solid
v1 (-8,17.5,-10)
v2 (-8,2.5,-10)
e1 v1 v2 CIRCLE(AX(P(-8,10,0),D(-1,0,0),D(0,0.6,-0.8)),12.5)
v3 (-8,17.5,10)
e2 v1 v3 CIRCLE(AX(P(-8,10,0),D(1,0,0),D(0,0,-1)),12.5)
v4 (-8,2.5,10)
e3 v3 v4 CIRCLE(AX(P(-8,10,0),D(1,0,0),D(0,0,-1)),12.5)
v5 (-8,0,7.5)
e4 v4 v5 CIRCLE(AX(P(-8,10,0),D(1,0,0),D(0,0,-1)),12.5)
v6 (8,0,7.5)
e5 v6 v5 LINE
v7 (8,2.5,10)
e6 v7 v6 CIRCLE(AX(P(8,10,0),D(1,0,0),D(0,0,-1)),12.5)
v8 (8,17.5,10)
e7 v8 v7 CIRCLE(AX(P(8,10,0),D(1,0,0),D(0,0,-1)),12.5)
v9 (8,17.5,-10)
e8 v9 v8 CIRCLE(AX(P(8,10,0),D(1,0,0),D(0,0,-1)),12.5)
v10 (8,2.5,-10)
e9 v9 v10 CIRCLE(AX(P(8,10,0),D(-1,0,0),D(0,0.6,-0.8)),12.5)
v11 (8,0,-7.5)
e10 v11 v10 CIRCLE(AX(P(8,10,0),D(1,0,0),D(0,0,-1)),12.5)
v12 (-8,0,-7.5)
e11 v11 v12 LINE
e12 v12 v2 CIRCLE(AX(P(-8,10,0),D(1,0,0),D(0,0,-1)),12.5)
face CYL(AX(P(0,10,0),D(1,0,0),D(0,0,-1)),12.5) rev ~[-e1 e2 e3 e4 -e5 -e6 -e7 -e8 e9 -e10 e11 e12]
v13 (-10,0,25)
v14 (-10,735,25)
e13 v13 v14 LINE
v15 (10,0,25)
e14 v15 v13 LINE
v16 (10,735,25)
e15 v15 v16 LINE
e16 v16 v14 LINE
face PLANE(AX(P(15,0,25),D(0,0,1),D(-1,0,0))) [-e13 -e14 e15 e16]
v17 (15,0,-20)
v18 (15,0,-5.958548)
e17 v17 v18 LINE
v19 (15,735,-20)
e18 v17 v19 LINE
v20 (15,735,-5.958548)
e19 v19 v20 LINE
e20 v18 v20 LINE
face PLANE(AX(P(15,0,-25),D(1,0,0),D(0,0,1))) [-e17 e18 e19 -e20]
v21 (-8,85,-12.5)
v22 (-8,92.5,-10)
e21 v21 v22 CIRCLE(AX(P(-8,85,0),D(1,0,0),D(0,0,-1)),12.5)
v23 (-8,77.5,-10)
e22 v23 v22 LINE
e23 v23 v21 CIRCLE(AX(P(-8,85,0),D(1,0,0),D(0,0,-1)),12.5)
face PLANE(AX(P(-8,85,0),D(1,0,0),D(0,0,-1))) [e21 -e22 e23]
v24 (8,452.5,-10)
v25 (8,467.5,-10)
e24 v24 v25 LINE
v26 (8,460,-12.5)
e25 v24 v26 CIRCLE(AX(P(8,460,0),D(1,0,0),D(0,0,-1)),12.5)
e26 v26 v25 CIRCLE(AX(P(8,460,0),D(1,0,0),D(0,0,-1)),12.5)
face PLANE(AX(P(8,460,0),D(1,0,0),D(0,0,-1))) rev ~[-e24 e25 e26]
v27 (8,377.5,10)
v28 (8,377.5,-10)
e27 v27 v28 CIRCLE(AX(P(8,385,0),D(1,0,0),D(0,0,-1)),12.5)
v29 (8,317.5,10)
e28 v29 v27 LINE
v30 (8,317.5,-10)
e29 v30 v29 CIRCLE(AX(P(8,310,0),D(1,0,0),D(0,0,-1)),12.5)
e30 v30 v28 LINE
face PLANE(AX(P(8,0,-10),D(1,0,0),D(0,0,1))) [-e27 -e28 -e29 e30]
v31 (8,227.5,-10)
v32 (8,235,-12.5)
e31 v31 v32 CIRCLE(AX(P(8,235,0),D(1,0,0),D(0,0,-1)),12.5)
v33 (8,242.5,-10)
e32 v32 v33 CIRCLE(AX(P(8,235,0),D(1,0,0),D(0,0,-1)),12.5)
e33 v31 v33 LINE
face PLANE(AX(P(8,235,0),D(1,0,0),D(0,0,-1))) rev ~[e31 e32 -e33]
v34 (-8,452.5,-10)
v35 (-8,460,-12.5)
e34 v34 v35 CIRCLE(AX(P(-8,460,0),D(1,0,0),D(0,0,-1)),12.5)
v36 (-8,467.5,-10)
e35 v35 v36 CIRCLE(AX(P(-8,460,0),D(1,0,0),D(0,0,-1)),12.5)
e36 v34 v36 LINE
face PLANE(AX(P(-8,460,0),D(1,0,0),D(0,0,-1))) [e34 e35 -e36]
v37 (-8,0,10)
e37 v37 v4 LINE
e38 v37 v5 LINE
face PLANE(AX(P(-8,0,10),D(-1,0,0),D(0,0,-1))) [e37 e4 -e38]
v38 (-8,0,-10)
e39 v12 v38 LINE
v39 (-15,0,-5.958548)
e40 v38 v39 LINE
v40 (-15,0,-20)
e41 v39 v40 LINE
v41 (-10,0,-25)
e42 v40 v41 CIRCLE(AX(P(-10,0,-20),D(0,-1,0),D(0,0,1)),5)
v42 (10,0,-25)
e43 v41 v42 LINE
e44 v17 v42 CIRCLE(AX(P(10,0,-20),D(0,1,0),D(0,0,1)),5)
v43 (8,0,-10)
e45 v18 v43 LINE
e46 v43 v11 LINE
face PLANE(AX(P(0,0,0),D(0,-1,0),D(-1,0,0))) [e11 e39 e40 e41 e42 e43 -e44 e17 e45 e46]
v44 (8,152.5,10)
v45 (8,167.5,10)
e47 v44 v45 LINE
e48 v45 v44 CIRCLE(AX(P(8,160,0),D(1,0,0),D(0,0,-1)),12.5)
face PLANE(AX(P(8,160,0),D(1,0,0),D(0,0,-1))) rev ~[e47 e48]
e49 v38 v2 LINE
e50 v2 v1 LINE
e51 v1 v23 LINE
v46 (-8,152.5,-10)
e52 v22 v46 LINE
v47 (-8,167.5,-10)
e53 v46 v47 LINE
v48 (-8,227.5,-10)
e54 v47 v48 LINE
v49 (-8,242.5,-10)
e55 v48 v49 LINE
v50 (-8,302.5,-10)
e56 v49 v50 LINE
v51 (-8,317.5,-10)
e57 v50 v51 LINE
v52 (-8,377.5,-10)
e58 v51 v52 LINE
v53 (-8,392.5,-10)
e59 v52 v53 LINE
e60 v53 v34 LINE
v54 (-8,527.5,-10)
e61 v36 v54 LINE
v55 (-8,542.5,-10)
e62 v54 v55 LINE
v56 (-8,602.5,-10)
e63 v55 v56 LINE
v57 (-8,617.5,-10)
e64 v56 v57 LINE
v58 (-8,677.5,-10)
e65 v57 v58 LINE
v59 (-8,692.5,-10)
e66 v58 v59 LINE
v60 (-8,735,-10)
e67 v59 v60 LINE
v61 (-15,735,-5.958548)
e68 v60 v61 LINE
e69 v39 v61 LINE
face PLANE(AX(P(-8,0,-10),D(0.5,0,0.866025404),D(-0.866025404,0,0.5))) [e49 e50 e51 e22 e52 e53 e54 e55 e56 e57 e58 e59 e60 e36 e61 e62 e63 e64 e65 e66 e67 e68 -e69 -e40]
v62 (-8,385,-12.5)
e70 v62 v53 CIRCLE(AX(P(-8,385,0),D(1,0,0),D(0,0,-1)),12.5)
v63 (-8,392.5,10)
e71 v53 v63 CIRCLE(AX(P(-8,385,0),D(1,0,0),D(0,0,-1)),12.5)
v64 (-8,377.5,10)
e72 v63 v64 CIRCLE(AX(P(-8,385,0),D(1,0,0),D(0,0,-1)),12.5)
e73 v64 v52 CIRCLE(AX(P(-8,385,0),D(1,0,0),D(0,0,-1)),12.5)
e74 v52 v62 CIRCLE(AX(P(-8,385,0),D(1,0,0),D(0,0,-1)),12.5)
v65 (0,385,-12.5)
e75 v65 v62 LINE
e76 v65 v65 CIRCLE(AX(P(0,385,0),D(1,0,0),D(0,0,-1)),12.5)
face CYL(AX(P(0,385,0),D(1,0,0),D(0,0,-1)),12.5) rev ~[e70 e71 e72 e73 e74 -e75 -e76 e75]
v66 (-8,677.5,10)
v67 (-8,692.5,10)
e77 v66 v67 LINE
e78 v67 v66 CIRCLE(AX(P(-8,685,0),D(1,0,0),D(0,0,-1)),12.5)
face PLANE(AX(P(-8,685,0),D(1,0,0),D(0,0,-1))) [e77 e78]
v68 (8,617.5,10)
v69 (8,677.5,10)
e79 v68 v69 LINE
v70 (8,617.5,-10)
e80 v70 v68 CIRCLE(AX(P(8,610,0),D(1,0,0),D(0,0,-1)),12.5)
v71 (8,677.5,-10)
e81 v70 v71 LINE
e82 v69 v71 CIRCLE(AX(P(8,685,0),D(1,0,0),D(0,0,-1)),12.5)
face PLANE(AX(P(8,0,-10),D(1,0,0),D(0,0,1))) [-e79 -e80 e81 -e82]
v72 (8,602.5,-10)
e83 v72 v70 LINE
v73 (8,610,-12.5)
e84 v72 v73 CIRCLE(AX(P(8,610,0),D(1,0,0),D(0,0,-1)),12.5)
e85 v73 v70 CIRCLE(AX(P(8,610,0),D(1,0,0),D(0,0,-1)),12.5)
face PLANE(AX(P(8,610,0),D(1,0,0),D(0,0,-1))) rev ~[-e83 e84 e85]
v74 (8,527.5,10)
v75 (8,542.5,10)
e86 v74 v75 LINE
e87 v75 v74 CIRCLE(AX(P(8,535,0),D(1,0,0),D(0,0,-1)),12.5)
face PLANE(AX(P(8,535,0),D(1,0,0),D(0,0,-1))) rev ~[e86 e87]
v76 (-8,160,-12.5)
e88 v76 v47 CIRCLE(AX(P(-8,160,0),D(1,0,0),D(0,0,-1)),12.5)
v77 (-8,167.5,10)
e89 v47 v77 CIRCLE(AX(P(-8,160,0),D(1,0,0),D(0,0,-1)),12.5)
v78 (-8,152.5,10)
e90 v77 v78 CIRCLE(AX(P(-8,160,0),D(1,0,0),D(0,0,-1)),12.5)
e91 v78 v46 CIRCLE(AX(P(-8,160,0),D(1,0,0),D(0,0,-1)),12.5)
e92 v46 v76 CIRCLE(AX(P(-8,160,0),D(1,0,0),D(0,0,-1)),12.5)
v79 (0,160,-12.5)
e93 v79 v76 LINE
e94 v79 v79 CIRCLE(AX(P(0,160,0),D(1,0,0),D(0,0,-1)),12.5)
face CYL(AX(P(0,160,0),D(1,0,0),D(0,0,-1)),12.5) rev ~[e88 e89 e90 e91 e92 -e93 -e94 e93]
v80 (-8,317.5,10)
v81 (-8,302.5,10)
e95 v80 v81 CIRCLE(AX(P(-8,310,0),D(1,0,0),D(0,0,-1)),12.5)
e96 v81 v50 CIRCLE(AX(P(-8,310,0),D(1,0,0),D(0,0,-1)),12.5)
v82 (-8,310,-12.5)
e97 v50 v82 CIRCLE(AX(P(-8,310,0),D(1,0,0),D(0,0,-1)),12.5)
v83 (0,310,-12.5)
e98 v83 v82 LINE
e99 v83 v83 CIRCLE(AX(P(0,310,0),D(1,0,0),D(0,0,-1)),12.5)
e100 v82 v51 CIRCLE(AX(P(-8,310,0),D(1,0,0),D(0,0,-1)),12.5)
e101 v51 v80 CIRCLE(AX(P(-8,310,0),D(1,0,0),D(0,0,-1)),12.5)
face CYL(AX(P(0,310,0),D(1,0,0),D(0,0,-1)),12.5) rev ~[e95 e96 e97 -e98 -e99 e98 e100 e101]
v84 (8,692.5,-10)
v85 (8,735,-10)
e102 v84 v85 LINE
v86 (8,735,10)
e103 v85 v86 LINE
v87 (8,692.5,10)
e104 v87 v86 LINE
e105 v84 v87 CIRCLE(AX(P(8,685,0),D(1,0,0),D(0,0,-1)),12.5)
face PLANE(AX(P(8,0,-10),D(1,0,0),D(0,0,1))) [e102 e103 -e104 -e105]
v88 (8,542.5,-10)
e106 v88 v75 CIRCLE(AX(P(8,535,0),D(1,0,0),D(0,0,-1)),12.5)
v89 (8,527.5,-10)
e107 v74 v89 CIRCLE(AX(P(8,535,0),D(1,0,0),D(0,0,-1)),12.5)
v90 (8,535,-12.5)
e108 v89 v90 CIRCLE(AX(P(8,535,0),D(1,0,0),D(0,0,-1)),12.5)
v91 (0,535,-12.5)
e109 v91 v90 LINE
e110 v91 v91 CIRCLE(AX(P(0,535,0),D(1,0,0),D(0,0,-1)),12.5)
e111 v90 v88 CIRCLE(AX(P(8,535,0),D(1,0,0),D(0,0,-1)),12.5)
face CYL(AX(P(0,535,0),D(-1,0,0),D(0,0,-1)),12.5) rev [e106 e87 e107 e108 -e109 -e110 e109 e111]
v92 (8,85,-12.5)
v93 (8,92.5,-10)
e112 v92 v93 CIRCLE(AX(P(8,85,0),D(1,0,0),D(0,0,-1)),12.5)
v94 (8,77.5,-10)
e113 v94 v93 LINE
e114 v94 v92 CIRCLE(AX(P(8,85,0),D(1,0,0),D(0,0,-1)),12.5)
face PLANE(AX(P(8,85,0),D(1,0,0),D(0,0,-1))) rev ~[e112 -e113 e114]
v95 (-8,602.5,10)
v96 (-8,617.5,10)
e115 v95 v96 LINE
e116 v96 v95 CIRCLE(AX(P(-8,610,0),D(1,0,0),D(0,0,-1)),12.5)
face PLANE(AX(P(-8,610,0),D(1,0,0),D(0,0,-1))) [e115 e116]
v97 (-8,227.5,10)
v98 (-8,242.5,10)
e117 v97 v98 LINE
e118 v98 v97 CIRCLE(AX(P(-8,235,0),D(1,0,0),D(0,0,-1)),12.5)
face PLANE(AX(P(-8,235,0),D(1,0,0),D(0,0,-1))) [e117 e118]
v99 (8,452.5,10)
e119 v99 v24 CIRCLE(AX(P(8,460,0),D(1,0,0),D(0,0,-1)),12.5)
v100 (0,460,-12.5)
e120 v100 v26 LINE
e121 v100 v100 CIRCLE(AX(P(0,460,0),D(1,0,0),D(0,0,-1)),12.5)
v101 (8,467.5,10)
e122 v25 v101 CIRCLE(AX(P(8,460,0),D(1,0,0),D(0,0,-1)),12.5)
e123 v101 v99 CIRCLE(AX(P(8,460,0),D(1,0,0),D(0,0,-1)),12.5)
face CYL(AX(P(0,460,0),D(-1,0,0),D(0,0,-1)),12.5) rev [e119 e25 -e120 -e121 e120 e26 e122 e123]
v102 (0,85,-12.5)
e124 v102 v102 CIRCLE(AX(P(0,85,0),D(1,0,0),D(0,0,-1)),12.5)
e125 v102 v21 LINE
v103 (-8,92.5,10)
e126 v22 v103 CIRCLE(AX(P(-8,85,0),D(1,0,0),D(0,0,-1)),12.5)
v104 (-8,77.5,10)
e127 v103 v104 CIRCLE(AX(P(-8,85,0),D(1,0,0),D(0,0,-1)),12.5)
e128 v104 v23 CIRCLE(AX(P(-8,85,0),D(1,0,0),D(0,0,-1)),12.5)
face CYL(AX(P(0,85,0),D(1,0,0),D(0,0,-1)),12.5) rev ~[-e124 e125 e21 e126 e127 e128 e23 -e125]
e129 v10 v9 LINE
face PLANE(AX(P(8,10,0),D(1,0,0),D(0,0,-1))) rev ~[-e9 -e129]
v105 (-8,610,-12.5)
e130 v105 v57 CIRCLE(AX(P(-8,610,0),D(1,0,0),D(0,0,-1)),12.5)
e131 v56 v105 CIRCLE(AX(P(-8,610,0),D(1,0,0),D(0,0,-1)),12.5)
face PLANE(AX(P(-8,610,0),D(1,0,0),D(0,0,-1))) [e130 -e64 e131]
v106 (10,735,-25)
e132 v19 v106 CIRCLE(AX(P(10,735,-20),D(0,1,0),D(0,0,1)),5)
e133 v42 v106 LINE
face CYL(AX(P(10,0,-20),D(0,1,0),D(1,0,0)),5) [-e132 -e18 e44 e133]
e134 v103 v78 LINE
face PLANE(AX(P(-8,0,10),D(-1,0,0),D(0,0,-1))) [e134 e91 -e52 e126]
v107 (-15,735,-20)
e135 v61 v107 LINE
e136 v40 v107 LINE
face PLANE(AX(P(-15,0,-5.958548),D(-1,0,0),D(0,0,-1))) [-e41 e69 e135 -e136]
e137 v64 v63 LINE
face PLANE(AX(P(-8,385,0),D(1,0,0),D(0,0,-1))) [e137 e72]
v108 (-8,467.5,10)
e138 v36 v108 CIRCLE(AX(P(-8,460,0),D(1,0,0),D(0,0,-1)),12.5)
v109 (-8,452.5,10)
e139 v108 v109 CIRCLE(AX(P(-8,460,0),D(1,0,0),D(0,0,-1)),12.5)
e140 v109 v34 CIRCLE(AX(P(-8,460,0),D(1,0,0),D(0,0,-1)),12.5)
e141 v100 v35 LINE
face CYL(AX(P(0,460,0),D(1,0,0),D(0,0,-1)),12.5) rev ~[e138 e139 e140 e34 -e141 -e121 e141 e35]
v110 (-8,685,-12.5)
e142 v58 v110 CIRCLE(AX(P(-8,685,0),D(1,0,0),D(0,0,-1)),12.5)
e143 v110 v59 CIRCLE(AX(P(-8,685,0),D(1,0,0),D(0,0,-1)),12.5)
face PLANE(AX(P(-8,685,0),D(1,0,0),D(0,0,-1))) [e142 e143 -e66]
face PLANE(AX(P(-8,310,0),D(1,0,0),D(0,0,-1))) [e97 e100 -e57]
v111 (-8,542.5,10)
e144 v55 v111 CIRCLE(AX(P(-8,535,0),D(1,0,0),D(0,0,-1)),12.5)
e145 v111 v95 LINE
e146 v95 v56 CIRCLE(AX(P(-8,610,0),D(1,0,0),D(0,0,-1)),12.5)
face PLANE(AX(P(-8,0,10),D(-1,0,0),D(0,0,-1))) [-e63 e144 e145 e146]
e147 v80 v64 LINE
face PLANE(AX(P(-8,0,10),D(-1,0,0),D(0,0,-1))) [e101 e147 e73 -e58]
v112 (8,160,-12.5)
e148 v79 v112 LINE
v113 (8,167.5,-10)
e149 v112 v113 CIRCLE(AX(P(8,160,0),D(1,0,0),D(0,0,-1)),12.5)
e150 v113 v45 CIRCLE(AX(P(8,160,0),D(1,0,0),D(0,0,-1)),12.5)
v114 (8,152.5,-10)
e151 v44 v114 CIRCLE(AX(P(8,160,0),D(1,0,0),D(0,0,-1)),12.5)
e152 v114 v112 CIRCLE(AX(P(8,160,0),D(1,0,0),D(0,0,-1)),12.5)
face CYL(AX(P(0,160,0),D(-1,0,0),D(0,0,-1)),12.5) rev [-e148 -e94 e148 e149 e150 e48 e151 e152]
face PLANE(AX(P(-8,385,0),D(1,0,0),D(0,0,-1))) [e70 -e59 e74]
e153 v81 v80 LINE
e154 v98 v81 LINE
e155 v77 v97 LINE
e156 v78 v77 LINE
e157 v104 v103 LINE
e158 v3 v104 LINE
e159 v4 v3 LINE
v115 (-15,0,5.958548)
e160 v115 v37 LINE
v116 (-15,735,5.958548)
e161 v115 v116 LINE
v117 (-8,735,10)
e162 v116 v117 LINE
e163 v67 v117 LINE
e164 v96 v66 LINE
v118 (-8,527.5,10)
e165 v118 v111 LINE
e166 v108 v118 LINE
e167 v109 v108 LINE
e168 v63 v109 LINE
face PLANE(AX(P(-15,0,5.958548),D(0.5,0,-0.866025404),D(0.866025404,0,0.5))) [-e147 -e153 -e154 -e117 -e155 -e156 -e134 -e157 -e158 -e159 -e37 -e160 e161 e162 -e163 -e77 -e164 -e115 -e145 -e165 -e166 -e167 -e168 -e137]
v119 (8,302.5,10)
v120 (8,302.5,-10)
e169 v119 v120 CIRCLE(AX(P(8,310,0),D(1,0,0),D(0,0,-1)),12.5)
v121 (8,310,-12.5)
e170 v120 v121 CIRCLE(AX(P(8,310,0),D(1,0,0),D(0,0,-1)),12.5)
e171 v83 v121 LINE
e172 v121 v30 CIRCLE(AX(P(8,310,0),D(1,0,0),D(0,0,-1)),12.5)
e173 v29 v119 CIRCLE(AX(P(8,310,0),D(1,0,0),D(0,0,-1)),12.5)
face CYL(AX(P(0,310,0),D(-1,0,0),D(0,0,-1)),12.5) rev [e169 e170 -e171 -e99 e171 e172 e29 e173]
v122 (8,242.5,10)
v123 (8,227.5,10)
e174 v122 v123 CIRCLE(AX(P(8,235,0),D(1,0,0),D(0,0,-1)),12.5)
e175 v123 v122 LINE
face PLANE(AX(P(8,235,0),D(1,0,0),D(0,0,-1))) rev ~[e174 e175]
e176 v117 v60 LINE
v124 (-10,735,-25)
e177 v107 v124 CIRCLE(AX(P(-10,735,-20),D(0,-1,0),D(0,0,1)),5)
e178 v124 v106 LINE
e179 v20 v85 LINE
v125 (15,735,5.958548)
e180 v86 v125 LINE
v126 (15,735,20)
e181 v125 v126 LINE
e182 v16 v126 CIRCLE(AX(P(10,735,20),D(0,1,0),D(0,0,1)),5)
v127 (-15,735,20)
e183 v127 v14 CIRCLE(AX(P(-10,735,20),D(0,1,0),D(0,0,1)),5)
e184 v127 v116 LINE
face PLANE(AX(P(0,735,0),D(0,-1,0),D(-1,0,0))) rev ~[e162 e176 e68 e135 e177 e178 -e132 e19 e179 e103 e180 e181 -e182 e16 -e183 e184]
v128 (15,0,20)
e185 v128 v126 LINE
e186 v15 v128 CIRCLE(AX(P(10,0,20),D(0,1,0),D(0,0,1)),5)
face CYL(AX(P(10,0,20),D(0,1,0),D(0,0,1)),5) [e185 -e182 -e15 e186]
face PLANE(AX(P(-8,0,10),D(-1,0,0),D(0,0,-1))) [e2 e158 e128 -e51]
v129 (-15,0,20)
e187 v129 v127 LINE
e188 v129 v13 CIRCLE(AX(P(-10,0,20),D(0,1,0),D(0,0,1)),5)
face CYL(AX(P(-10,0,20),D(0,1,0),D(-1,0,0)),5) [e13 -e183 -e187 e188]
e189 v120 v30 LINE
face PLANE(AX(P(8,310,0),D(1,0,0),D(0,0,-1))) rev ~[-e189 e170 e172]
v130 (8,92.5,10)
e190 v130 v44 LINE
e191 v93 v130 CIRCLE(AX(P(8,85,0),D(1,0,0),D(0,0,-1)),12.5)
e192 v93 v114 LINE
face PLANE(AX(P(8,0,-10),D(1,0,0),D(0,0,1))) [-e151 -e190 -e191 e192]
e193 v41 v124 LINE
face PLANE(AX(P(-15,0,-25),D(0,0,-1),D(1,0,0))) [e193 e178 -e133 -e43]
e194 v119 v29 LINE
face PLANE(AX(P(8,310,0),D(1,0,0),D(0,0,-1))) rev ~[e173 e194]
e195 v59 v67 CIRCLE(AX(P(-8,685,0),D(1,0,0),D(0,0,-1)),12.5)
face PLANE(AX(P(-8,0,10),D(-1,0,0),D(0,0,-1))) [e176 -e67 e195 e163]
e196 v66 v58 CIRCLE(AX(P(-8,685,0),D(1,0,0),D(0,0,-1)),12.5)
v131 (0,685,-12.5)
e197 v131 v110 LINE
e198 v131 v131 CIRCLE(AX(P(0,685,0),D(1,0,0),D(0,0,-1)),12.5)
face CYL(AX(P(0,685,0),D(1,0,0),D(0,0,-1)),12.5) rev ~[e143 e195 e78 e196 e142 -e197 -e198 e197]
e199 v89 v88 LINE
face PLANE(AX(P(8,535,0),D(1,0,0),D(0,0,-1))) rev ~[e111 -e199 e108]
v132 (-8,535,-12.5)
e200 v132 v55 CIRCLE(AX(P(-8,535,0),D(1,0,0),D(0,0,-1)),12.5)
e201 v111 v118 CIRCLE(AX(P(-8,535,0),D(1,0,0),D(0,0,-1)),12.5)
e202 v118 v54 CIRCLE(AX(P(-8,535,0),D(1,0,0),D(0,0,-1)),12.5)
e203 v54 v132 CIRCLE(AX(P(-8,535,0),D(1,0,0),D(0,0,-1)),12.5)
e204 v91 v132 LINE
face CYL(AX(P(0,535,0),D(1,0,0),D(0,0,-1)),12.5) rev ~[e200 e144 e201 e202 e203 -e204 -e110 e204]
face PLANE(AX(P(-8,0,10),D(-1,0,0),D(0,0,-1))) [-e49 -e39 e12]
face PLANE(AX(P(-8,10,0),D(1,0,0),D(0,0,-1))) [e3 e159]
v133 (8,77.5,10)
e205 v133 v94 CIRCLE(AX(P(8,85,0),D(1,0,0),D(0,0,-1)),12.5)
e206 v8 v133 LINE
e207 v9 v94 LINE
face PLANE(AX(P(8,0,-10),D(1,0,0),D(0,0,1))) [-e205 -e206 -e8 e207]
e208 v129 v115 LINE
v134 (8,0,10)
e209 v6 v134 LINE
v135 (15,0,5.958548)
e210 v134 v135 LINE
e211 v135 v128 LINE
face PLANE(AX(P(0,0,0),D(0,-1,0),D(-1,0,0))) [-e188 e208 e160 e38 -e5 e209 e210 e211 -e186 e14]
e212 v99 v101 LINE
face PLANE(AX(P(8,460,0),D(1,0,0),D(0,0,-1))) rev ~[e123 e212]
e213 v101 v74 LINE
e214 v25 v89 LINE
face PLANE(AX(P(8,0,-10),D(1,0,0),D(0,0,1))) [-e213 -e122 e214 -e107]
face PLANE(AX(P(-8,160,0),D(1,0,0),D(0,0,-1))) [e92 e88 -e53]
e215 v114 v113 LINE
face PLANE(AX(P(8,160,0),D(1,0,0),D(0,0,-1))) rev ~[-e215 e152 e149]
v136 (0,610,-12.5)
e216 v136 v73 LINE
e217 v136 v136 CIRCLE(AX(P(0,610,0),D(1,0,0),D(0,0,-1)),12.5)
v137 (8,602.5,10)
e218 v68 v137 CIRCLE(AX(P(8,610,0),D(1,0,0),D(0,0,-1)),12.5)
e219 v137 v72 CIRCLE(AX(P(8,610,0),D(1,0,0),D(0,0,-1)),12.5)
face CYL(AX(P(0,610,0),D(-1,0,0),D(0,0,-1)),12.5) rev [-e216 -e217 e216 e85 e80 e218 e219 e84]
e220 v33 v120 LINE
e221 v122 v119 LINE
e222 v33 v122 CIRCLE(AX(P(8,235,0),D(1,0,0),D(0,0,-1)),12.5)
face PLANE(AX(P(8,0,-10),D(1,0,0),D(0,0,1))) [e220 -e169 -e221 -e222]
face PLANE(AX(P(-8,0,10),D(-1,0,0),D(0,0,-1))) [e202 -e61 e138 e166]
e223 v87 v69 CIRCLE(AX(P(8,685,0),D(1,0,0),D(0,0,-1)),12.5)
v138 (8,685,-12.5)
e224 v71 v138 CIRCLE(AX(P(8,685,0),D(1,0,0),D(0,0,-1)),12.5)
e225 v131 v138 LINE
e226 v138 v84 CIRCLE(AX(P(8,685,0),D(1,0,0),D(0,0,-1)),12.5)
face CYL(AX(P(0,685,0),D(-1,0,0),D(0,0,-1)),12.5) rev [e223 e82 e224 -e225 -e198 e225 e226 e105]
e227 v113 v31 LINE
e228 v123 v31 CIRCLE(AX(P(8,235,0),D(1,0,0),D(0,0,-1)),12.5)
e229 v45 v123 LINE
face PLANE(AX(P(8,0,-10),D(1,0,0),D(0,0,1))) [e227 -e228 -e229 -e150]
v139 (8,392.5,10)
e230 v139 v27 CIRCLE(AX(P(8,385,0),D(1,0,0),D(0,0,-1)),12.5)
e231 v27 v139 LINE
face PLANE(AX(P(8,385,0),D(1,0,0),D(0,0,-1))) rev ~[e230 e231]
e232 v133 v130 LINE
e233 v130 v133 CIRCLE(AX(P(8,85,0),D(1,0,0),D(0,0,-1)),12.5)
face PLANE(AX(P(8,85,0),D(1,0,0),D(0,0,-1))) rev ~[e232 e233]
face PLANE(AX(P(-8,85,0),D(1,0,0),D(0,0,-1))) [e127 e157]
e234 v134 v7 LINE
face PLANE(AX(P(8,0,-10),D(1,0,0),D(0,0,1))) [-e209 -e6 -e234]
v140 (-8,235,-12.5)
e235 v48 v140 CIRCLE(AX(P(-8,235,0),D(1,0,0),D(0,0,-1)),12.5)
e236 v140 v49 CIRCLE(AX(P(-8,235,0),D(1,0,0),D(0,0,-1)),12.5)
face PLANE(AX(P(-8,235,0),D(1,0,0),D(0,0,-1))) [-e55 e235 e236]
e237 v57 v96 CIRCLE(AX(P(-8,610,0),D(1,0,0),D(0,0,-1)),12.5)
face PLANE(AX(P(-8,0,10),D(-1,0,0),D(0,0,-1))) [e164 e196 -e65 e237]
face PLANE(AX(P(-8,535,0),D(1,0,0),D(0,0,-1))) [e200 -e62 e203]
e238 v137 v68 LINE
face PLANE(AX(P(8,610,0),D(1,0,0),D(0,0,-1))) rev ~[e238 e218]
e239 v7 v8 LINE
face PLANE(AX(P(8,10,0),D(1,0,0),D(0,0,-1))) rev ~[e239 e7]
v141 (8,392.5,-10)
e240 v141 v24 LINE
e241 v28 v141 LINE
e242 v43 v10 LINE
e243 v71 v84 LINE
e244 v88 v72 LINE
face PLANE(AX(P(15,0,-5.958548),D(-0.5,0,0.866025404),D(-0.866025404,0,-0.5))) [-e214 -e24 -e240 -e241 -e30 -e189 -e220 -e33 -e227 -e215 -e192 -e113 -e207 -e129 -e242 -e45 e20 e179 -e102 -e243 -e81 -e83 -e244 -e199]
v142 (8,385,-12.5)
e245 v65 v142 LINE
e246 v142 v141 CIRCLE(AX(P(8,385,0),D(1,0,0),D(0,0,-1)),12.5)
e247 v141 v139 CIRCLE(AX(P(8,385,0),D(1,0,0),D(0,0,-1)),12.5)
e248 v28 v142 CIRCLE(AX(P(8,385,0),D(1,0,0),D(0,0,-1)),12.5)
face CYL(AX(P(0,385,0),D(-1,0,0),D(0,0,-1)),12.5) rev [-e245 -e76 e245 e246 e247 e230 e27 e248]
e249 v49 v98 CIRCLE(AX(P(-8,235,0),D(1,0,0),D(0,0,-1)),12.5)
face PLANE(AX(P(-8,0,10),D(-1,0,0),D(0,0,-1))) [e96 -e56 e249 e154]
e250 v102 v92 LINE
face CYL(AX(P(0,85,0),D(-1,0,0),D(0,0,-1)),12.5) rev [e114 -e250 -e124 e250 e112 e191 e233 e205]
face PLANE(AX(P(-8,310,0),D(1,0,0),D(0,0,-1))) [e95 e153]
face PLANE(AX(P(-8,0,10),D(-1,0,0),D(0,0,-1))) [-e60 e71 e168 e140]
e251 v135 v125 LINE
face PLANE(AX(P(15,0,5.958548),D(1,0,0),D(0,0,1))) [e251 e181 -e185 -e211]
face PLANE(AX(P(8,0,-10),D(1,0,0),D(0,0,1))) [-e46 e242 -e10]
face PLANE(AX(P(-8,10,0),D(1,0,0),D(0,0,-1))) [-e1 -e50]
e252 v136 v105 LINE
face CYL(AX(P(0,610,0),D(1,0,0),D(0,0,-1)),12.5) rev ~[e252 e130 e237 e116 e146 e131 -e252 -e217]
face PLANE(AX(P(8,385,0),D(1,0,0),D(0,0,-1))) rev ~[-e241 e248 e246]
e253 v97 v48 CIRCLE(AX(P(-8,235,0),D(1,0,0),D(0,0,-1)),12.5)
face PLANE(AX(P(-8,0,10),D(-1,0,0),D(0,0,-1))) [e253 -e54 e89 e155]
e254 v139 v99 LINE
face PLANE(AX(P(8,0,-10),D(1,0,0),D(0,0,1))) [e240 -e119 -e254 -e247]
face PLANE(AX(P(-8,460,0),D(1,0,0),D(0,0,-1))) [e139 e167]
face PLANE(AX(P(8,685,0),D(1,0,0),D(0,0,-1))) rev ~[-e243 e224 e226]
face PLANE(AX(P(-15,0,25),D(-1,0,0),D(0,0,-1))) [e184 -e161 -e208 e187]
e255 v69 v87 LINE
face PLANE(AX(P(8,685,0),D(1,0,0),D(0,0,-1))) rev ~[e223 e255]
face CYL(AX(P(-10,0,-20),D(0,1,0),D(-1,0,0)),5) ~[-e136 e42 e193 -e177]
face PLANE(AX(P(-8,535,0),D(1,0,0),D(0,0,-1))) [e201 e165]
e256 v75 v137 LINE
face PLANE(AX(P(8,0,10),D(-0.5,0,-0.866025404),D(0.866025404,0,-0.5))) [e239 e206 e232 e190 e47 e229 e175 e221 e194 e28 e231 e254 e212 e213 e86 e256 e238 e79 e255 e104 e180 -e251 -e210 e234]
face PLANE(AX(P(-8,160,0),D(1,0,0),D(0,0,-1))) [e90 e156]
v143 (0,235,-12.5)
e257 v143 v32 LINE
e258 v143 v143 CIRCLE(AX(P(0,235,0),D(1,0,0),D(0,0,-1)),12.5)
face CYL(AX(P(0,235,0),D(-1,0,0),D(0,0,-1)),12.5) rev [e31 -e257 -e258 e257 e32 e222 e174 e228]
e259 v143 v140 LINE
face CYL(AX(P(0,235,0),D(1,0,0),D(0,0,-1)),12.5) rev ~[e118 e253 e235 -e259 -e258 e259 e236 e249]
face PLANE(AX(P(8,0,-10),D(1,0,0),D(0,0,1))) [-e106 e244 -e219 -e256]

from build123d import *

# Parameters (mm, degrees)
BOSS_EXTRUDE1_DEPTH     = 735
SKETCH3_R               = 12.5
CUT_EXTRUDE2_DEPTH      = 8
CUT_EXTRUDE2_DEPTH_BACK = 8
FILLET1_R               = 5


with BuildPart() as part:
    # Sketch1 → Boss-Extrude1 (new body)
    with BuildSketch(Plane(origin=(0, 0, 0), x_dir=(1, 0, 0), z_dir=(0, 1, 0))):
        Polygon((15, 25), (15, 5.958548116), (8, 10), (8, -10), (15, -5.958548116), (15, -25), (-15, -25), (-15, -5.958548116), (-8, -10), (-8, 10), (-15, 5.958548116), (-15, 25), align=None)
    extrude(amount=BOSS_EXTRUDE1_DEPTH)

    # Sketch3 → Cut-Extrude2 (cut, two sides)
    with BuildSketch(Plane(origin=(0, 0, 0), x_dir=(0, 0, -1), z_dir=(1, 0, 0))) as cut_extrude2_sk:
        with Locations((0, 685)):
            Circle(SKETCH3_R)
        with Locations((0, 610)):
            Circle(SKETCH3_R)
        with Locations((0, 535)):
            Circle(SKETCH3_R)
        with Locations((0, 460)):
            Circle(SKETCH3_R)
        with Locations((0, 385)):
            Circle(SKETCH3_R)
        with Locations((0, 310)):
            Circle(SKETCH3_R)
        with Locations((0, 235)):
            Circle(SKETCH3_R)
        with Locations((0, 160)):
            Circle(SKETCH3_R)
        with Locations((0, 85)):
            Circle(SKETCH3_R)
        with Locations((0, 10)):
            Circle(SKETCH3_R)
        with Locations((0, -65)):
            Circle(SKETCH3_R)
    extrude(amount=CUT_EXTRUDE2_DEPTH, mode=Mode.SUBTRACT)
    extrude(cut_extrude2_sk.sketch, amount=-CUT_EXTRUDE2_DEPTH_BACK, mode=Mode.SUBTRACT)

    # Fillet1
    fillet1_edges = [part.edges().sort_by_distance(p)[0] for p in [
        (15, 367.5, -25),
        (15, 367.5, 25),
        (-15, 367.5, 25),
        (-15, 367.5, -25),
    ]]
    fillet(fillet1_edges, radius=FILLET1_R)


solid = part.part
